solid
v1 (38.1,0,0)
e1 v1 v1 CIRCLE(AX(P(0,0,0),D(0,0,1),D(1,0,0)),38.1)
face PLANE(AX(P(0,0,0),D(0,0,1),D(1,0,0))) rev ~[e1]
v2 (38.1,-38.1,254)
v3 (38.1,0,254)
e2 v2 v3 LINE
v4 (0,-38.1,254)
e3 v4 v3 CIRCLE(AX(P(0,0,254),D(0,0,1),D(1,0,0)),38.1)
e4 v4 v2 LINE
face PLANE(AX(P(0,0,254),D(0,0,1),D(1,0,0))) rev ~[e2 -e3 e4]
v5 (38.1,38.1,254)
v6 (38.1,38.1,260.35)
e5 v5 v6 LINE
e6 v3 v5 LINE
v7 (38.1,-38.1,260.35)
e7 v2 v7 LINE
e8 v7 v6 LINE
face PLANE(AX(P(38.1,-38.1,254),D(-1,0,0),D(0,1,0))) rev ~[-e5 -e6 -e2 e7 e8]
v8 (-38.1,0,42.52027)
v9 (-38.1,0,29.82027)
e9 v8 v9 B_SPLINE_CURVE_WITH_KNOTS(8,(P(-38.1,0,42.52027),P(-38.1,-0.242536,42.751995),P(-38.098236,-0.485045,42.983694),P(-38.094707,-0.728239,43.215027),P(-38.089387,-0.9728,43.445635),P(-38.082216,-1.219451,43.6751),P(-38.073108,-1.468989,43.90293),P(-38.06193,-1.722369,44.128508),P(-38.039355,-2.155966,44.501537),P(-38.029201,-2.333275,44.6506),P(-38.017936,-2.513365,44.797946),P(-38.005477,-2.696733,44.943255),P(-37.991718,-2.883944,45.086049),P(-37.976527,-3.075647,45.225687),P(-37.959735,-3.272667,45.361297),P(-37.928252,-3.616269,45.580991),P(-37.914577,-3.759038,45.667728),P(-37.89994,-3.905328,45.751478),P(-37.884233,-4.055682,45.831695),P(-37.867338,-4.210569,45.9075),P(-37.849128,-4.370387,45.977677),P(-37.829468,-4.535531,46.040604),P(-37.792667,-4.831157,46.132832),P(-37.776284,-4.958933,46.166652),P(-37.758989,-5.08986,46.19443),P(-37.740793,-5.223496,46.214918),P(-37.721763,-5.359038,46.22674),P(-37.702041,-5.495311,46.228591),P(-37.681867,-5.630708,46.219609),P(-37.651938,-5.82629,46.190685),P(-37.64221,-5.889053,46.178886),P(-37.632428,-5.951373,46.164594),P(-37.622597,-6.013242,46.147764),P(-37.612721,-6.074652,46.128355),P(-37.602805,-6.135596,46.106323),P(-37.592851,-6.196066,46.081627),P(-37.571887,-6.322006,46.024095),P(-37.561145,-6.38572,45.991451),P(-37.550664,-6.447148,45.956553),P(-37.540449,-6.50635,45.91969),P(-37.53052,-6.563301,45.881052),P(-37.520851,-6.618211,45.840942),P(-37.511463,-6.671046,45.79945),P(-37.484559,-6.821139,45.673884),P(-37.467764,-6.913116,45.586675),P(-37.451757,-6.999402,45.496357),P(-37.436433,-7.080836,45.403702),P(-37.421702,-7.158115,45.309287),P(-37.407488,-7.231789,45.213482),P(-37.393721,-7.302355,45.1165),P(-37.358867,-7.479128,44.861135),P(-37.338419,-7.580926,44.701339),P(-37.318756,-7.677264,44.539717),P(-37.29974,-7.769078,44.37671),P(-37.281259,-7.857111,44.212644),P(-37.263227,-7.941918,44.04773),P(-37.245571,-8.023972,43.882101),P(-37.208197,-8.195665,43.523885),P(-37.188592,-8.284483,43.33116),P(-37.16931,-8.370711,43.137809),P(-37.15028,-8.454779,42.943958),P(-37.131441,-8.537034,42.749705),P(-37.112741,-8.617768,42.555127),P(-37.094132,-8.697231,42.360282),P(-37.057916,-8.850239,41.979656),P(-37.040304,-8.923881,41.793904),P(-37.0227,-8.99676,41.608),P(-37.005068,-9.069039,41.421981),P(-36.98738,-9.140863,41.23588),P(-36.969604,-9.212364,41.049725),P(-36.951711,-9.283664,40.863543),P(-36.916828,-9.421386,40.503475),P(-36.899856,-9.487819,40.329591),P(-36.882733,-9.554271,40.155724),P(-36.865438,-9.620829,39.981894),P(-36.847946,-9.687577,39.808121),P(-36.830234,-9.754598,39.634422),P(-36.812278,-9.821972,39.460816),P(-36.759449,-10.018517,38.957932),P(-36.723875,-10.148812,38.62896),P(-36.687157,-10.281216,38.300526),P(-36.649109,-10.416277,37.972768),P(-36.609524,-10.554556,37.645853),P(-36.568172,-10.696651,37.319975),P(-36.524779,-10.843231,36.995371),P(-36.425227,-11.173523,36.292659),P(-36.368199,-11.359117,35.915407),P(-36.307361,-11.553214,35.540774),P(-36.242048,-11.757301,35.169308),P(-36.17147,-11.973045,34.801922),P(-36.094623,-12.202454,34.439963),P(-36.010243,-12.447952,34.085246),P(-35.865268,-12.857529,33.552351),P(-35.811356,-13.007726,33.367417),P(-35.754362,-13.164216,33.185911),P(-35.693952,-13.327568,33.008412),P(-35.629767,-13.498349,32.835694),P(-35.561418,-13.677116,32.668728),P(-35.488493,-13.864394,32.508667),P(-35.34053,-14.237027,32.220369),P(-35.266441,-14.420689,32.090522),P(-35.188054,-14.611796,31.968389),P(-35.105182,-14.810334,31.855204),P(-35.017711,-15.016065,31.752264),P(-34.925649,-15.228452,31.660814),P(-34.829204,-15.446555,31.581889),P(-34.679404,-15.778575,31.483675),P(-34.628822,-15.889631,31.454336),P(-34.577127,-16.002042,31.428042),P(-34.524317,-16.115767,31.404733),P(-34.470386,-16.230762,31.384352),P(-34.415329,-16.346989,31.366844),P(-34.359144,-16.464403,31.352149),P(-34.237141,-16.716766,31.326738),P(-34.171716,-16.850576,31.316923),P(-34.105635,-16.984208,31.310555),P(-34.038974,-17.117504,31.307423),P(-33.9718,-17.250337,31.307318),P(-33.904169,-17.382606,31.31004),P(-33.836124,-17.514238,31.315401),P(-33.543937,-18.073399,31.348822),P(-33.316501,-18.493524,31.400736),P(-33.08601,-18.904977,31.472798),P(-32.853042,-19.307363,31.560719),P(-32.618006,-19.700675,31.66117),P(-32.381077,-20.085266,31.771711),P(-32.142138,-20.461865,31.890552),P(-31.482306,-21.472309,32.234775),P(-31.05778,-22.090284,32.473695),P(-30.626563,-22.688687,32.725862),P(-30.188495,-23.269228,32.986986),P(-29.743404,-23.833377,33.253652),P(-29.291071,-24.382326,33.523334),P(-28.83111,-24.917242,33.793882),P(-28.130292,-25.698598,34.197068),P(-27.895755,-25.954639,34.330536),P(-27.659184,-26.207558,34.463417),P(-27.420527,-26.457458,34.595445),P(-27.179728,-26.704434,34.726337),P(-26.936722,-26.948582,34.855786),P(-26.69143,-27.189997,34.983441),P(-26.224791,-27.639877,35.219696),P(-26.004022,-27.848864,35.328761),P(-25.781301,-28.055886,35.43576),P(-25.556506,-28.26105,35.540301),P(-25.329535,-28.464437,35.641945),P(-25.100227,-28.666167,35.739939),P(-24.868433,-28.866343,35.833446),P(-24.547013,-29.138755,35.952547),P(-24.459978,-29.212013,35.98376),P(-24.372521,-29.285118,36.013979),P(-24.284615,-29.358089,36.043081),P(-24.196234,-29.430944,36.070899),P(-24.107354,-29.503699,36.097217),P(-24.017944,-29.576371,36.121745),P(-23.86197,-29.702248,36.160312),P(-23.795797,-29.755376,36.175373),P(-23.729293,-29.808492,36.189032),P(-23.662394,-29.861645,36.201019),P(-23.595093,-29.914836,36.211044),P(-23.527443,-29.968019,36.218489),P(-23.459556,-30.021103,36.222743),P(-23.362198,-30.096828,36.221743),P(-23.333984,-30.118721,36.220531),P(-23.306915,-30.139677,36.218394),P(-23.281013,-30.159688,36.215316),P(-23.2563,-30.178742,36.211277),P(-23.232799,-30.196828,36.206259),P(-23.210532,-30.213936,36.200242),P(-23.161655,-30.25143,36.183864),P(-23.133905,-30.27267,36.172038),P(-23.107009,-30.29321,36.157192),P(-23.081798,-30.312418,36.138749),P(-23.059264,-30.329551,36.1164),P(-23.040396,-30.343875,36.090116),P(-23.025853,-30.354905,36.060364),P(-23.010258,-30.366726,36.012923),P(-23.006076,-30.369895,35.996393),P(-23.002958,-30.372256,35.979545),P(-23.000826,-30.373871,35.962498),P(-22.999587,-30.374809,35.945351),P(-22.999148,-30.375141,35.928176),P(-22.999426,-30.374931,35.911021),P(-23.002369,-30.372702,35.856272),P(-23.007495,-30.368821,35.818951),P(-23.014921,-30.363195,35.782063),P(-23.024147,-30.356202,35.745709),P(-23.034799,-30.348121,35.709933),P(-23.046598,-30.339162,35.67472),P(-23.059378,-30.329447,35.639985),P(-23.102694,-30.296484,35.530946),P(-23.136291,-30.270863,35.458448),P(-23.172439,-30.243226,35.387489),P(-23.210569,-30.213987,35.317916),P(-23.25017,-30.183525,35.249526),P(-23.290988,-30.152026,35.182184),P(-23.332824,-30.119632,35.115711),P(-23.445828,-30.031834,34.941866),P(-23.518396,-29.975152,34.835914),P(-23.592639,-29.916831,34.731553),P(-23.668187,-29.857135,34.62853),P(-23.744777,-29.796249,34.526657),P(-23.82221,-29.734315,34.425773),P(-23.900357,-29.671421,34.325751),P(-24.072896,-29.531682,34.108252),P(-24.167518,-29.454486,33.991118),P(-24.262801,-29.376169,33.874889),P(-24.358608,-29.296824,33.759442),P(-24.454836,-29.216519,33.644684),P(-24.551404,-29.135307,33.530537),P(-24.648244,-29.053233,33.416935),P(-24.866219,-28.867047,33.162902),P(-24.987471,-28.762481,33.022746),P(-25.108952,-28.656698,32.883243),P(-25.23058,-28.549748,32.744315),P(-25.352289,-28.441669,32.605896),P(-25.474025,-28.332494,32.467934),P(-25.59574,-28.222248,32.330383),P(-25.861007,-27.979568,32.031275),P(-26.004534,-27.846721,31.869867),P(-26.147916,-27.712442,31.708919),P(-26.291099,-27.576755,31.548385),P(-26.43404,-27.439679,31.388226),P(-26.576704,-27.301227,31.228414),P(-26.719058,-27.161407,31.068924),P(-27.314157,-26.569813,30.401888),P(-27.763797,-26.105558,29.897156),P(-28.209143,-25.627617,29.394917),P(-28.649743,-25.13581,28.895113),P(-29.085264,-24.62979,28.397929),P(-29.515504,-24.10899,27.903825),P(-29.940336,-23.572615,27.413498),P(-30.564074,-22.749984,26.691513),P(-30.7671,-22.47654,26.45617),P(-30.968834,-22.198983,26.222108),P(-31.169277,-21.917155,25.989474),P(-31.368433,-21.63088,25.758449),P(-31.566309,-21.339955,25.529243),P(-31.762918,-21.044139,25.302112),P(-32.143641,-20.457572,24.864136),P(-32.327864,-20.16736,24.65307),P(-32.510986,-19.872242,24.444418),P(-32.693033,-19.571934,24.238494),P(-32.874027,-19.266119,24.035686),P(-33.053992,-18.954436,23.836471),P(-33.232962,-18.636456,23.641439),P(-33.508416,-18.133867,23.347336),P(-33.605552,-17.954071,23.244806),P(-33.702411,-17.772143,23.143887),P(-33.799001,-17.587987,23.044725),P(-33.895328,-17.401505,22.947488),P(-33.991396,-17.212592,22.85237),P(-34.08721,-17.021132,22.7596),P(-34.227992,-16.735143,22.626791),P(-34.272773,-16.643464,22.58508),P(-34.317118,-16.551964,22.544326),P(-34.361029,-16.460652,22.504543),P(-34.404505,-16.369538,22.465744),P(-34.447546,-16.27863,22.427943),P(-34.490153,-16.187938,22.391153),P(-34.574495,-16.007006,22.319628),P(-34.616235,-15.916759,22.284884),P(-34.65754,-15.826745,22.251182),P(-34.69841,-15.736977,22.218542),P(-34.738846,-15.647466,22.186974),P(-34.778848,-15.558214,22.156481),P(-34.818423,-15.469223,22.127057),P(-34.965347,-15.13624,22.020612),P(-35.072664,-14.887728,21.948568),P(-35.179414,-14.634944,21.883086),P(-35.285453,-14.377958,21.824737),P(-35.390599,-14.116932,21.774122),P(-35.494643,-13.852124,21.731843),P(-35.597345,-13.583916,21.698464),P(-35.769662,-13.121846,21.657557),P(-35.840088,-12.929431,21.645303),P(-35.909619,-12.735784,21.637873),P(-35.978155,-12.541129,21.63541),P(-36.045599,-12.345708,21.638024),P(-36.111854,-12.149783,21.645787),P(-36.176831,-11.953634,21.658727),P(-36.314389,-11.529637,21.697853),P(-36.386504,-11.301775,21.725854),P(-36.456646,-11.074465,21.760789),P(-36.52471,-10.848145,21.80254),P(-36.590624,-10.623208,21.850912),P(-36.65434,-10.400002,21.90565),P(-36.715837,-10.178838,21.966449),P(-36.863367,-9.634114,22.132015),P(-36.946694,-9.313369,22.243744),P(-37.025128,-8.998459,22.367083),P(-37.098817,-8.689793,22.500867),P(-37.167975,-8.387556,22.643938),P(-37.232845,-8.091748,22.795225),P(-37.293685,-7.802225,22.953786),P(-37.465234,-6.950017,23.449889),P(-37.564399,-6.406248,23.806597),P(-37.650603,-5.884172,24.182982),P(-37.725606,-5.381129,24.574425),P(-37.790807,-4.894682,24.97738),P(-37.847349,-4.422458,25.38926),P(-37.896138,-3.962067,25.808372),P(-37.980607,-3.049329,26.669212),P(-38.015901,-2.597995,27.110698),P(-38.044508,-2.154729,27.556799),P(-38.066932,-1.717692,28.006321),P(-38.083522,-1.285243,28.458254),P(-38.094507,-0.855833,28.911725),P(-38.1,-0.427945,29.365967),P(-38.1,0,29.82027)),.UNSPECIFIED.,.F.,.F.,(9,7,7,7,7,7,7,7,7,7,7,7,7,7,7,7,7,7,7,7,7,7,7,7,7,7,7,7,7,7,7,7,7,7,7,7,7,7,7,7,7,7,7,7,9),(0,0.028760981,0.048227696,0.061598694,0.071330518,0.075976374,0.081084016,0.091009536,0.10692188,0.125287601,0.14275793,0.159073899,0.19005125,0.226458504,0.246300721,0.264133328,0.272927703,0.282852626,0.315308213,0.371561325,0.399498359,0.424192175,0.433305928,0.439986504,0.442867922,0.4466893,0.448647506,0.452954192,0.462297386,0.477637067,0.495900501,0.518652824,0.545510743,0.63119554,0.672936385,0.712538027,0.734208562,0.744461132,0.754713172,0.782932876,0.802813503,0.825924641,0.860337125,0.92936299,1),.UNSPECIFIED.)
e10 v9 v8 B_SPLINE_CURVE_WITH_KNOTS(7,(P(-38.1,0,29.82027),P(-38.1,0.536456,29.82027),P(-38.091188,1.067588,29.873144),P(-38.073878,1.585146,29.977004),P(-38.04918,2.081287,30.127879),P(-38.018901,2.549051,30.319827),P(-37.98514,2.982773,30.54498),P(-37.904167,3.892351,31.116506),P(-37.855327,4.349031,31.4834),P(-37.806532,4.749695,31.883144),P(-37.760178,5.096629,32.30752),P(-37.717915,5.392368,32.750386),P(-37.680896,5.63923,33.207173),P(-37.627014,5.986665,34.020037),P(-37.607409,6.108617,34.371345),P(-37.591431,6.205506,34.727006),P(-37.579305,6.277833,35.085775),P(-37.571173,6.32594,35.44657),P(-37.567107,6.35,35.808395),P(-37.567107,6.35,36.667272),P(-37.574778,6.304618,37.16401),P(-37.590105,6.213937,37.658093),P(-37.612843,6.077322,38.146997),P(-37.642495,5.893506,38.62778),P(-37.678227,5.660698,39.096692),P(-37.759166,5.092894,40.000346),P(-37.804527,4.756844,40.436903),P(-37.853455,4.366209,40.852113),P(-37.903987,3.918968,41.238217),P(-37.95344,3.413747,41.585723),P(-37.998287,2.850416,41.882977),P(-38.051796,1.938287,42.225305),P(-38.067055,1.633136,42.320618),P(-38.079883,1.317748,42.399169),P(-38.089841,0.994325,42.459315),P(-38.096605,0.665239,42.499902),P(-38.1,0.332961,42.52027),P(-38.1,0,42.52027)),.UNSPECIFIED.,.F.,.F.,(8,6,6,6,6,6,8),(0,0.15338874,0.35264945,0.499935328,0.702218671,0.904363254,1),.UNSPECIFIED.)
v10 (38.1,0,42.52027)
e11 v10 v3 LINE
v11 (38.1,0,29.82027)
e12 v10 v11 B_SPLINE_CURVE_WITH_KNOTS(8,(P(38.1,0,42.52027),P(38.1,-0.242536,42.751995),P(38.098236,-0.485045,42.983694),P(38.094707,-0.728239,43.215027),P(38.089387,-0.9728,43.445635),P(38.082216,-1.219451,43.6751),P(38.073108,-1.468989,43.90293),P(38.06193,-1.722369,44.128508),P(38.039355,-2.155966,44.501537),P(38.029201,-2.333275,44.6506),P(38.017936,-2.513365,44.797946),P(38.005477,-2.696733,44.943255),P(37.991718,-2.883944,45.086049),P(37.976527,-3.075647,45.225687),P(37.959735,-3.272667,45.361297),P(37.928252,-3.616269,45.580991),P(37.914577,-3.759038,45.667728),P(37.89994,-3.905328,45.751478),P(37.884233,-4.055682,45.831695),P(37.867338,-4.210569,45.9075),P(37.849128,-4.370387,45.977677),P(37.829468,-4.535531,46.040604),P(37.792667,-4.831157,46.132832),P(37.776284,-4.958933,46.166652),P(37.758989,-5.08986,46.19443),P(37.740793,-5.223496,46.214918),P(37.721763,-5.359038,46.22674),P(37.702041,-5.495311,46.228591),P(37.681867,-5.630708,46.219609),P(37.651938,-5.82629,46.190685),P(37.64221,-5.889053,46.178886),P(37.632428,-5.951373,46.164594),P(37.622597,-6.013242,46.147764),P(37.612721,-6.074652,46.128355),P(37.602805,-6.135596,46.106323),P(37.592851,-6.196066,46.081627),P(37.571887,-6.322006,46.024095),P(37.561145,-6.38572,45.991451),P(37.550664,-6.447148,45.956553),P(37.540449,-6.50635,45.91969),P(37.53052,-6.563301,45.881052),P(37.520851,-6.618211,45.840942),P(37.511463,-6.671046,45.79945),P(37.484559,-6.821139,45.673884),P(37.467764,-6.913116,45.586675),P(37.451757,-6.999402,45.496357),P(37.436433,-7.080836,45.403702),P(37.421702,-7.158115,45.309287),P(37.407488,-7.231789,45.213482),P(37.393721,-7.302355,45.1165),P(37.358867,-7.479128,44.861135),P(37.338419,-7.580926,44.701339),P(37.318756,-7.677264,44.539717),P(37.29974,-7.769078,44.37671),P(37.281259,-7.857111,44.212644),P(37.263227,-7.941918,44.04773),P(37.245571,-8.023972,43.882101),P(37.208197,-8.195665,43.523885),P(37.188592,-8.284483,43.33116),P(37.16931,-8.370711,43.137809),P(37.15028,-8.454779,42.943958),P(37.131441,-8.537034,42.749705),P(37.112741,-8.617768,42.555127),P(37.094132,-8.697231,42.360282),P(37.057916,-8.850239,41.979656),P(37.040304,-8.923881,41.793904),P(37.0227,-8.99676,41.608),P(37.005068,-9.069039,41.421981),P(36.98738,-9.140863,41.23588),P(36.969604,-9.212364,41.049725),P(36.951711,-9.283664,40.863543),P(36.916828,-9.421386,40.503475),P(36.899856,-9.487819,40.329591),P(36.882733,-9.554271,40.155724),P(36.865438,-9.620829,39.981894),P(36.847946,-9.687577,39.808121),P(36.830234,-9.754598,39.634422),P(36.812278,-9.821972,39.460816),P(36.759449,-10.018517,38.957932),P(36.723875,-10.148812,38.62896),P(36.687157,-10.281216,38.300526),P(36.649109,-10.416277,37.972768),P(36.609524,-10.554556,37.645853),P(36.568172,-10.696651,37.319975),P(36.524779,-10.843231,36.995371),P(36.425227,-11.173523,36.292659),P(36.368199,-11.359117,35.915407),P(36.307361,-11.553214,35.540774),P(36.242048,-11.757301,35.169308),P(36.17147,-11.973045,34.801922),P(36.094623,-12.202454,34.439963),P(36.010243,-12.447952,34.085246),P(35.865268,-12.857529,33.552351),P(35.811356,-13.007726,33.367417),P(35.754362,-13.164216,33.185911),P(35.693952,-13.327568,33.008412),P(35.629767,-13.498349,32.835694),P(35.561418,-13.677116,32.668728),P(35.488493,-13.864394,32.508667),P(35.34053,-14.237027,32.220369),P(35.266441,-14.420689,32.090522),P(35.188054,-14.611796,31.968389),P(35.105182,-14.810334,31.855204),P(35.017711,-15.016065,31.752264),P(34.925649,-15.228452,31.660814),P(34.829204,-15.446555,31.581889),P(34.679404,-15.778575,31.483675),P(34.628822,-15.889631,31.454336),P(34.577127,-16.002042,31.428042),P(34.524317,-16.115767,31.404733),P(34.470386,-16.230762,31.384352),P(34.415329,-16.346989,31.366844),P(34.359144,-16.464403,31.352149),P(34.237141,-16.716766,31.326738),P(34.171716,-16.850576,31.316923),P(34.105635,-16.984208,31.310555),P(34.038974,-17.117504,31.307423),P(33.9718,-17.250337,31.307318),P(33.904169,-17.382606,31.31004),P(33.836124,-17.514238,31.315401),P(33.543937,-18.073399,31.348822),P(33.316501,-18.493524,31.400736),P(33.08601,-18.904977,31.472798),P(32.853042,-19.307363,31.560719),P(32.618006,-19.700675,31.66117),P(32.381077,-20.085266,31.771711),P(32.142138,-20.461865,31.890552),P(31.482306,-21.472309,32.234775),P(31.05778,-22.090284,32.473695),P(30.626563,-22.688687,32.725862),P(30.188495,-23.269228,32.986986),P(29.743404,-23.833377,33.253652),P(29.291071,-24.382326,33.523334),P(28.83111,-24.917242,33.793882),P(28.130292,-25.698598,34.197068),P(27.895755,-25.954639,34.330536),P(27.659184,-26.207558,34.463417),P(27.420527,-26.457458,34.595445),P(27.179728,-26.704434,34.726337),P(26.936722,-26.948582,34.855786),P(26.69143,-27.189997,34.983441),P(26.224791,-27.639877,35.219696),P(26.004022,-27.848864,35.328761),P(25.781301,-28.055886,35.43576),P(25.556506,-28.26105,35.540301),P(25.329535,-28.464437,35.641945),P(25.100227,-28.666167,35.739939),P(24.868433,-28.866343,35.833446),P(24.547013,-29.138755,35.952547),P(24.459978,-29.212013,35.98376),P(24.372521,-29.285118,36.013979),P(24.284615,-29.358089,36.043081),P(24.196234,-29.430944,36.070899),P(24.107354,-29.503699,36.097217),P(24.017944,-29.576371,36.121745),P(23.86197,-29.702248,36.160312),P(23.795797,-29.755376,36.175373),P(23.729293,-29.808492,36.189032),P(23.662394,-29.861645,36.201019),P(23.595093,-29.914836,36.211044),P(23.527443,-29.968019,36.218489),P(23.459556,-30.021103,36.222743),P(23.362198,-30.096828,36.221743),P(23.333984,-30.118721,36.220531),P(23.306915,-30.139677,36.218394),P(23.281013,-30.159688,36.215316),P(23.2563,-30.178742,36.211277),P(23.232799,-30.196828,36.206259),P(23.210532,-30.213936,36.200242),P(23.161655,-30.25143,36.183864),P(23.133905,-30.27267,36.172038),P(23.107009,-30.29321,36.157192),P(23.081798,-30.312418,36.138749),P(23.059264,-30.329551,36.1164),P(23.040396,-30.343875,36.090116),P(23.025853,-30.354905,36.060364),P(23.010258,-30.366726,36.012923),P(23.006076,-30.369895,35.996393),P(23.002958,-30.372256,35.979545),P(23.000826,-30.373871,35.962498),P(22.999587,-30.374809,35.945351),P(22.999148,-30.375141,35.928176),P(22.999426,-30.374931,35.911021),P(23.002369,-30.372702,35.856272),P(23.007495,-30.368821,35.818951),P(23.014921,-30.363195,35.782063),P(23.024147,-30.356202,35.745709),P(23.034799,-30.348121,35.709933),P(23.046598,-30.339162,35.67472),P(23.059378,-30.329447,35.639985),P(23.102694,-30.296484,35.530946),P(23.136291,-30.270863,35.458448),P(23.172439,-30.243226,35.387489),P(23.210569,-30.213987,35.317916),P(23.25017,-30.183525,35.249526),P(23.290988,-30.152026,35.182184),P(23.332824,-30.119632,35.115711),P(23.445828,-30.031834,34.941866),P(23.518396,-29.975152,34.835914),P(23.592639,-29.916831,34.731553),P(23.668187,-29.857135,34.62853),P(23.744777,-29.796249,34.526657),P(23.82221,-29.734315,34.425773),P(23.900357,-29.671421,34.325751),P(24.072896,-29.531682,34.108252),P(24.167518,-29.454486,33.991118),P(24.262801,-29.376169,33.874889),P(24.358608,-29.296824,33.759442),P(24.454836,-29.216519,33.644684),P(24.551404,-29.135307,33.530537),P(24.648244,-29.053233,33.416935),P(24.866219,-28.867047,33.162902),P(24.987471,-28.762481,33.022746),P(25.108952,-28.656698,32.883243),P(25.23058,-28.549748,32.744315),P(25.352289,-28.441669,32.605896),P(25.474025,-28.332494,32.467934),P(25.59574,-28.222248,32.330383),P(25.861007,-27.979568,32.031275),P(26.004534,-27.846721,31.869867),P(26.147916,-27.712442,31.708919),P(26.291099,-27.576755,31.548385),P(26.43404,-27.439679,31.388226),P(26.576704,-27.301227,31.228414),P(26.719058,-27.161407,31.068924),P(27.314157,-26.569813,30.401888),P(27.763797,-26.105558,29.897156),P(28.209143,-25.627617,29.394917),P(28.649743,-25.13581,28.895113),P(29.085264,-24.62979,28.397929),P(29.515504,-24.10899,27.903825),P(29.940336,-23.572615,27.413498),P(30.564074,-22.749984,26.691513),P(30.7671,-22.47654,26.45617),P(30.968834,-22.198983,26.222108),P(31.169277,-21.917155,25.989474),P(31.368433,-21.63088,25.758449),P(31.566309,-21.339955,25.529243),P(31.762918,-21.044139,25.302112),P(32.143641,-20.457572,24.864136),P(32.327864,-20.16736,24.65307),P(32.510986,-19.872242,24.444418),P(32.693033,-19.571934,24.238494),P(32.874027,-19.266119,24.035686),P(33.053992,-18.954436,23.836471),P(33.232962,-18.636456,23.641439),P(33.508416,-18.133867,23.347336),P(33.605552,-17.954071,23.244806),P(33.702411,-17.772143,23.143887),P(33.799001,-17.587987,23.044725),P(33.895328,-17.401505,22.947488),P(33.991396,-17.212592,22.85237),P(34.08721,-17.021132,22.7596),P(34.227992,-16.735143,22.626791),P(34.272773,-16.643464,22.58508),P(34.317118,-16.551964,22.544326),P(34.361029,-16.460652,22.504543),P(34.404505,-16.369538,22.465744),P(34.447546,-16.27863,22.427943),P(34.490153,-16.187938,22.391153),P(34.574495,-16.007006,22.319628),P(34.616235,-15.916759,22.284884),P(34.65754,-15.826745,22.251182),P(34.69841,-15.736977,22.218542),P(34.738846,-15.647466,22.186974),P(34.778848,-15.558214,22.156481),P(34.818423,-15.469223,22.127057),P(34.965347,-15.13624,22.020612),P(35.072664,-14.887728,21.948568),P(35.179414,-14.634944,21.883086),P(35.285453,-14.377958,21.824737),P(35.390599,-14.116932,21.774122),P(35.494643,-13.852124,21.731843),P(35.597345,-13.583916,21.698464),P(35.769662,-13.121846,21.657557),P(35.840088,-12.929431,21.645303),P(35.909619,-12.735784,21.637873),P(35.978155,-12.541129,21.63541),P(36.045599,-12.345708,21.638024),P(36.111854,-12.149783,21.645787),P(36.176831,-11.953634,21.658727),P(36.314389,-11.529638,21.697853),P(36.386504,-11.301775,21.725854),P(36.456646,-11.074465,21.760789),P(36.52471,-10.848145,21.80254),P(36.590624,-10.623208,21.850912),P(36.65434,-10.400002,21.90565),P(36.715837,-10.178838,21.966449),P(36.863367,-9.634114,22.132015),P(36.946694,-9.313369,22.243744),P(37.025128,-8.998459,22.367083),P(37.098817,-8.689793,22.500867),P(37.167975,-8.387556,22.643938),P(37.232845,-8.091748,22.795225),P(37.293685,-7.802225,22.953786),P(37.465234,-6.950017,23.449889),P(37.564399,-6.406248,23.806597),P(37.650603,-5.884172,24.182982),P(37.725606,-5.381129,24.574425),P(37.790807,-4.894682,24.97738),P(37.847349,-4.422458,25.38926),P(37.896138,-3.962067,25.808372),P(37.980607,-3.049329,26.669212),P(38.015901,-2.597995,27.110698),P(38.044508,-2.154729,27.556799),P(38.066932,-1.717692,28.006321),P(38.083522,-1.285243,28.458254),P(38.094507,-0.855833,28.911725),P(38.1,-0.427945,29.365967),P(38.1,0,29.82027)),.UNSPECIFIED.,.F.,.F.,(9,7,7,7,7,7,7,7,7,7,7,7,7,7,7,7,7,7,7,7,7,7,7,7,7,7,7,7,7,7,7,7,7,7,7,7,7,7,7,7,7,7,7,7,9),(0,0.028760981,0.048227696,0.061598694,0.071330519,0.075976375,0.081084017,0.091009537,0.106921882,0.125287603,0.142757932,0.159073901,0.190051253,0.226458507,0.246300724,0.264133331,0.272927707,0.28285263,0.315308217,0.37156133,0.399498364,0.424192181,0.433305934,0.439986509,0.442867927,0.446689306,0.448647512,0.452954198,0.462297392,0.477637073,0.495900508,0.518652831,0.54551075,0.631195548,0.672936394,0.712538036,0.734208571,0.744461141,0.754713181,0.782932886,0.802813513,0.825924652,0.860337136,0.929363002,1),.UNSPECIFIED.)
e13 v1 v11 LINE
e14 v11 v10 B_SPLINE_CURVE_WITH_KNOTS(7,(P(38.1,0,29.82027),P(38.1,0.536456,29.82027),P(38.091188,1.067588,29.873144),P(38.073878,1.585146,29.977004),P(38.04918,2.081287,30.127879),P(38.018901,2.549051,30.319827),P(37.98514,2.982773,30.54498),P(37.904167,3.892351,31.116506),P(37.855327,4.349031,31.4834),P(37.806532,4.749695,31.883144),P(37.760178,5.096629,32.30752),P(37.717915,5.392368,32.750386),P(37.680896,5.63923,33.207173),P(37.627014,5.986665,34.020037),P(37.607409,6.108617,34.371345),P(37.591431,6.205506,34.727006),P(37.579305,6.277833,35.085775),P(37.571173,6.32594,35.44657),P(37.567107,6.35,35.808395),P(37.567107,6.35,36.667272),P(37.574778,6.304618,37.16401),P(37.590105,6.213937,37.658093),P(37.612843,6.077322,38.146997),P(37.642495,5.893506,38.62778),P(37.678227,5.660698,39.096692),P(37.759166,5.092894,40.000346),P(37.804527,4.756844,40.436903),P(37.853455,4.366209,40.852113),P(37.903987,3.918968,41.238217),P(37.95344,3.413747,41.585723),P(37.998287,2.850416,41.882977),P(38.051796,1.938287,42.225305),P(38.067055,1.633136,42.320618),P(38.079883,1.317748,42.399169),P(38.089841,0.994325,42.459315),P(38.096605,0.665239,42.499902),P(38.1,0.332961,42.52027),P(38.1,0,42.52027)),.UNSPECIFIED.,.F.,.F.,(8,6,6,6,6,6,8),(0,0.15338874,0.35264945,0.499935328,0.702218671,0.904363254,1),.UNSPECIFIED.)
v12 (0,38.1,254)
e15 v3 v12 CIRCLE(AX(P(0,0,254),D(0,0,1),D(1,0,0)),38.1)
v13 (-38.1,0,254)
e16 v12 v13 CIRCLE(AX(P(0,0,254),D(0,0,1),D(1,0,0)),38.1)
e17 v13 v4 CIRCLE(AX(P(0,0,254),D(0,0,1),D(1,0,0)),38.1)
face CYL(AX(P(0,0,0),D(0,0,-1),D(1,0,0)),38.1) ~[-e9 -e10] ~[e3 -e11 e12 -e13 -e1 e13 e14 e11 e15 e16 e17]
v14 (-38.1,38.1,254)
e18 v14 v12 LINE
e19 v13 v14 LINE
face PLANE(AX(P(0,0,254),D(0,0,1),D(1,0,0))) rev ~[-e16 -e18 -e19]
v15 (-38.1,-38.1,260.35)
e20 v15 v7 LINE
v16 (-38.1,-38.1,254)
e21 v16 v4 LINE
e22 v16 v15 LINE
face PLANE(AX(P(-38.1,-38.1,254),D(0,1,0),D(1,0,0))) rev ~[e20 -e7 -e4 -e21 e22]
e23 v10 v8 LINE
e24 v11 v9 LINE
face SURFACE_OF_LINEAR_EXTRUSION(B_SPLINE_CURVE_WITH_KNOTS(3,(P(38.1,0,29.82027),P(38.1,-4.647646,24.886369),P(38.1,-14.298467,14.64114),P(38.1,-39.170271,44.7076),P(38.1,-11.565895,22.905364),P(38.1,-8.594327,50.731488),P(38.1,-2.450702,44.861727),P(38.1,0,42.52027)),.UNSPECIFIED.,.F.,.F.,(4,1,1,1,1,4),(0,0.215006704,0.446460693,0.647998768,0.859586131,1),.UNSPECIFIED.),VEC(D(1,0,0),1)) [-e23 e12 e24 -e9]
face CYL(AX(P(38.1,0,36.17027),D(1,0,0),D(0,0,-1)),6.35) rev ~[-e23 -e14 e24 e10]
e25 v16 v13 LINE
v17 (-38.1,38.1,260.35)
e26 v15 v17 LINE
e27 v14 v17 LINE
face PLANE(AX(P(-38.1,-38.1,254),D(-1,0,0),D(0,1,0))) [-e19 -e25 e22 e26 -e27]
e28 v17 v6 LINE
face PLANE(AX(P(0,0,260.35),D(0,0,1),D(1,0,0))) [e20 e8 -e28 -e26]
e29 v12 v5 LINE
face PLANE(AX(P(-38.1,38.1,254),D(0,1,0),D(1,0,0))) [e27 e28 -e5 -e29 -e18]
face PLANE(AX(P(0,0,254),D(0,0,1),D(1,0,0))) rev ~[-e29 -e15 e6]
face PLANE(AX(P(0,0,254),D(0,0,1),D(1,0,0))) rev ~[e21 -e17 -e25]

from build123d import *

# Parameters (mm, degrees)
F0_R     = 38.1
F1_DEPTH = 254
F2_W     = 76.2
F2_H     = 76.2
F3_DEPTH = 6.35
F6_DEPTH = 76.201


with BuildPart() as f1:
    # F0 (on Top) → F1 (new body)
    with BuildSketch(Plane.XY):
        Circle(F0_R)
    extrude(amount=F1_DEPTH)

    # F2 (on face) → F3 (join)
    with BuildSketch(Plane.XY.offset(254)):
        Rectangle(F2_W, F2_H)
    extrude(amount=F3_DEPTH)

    # F5 (on offset) → F6 (cut, through all)
    with BuildSketch(Plane.YZ.offset(38.1)):
        with BuildLine():
            add(Edge.make_bspline(
                [(0, 29.820270294), (-4.6476458963, 24.8863690504), (-14.2984668544, 14.6411398336), (-39.1702712633, 44.7075995996), (-11.5658950542, 22.9053639125), (-8.594327492, 50.7314877801), (-2.4507022089, 44.8617273597), (0, 42.520270294)],
                knots=[0, 0, 0, 0, 0.2150067042, 0.4464606928, 0.6479987681, 0.8595861308, 1, 1, 1, 1], degree=3))
            ThreePointArc((0, 29.820270294), (6.35, 36.170270294), (0, 42.520270294))
        make_face()
    extrude(amount=-F6_DEPTH, mode=Mode.SUBTRACT)


solid = f1.part
